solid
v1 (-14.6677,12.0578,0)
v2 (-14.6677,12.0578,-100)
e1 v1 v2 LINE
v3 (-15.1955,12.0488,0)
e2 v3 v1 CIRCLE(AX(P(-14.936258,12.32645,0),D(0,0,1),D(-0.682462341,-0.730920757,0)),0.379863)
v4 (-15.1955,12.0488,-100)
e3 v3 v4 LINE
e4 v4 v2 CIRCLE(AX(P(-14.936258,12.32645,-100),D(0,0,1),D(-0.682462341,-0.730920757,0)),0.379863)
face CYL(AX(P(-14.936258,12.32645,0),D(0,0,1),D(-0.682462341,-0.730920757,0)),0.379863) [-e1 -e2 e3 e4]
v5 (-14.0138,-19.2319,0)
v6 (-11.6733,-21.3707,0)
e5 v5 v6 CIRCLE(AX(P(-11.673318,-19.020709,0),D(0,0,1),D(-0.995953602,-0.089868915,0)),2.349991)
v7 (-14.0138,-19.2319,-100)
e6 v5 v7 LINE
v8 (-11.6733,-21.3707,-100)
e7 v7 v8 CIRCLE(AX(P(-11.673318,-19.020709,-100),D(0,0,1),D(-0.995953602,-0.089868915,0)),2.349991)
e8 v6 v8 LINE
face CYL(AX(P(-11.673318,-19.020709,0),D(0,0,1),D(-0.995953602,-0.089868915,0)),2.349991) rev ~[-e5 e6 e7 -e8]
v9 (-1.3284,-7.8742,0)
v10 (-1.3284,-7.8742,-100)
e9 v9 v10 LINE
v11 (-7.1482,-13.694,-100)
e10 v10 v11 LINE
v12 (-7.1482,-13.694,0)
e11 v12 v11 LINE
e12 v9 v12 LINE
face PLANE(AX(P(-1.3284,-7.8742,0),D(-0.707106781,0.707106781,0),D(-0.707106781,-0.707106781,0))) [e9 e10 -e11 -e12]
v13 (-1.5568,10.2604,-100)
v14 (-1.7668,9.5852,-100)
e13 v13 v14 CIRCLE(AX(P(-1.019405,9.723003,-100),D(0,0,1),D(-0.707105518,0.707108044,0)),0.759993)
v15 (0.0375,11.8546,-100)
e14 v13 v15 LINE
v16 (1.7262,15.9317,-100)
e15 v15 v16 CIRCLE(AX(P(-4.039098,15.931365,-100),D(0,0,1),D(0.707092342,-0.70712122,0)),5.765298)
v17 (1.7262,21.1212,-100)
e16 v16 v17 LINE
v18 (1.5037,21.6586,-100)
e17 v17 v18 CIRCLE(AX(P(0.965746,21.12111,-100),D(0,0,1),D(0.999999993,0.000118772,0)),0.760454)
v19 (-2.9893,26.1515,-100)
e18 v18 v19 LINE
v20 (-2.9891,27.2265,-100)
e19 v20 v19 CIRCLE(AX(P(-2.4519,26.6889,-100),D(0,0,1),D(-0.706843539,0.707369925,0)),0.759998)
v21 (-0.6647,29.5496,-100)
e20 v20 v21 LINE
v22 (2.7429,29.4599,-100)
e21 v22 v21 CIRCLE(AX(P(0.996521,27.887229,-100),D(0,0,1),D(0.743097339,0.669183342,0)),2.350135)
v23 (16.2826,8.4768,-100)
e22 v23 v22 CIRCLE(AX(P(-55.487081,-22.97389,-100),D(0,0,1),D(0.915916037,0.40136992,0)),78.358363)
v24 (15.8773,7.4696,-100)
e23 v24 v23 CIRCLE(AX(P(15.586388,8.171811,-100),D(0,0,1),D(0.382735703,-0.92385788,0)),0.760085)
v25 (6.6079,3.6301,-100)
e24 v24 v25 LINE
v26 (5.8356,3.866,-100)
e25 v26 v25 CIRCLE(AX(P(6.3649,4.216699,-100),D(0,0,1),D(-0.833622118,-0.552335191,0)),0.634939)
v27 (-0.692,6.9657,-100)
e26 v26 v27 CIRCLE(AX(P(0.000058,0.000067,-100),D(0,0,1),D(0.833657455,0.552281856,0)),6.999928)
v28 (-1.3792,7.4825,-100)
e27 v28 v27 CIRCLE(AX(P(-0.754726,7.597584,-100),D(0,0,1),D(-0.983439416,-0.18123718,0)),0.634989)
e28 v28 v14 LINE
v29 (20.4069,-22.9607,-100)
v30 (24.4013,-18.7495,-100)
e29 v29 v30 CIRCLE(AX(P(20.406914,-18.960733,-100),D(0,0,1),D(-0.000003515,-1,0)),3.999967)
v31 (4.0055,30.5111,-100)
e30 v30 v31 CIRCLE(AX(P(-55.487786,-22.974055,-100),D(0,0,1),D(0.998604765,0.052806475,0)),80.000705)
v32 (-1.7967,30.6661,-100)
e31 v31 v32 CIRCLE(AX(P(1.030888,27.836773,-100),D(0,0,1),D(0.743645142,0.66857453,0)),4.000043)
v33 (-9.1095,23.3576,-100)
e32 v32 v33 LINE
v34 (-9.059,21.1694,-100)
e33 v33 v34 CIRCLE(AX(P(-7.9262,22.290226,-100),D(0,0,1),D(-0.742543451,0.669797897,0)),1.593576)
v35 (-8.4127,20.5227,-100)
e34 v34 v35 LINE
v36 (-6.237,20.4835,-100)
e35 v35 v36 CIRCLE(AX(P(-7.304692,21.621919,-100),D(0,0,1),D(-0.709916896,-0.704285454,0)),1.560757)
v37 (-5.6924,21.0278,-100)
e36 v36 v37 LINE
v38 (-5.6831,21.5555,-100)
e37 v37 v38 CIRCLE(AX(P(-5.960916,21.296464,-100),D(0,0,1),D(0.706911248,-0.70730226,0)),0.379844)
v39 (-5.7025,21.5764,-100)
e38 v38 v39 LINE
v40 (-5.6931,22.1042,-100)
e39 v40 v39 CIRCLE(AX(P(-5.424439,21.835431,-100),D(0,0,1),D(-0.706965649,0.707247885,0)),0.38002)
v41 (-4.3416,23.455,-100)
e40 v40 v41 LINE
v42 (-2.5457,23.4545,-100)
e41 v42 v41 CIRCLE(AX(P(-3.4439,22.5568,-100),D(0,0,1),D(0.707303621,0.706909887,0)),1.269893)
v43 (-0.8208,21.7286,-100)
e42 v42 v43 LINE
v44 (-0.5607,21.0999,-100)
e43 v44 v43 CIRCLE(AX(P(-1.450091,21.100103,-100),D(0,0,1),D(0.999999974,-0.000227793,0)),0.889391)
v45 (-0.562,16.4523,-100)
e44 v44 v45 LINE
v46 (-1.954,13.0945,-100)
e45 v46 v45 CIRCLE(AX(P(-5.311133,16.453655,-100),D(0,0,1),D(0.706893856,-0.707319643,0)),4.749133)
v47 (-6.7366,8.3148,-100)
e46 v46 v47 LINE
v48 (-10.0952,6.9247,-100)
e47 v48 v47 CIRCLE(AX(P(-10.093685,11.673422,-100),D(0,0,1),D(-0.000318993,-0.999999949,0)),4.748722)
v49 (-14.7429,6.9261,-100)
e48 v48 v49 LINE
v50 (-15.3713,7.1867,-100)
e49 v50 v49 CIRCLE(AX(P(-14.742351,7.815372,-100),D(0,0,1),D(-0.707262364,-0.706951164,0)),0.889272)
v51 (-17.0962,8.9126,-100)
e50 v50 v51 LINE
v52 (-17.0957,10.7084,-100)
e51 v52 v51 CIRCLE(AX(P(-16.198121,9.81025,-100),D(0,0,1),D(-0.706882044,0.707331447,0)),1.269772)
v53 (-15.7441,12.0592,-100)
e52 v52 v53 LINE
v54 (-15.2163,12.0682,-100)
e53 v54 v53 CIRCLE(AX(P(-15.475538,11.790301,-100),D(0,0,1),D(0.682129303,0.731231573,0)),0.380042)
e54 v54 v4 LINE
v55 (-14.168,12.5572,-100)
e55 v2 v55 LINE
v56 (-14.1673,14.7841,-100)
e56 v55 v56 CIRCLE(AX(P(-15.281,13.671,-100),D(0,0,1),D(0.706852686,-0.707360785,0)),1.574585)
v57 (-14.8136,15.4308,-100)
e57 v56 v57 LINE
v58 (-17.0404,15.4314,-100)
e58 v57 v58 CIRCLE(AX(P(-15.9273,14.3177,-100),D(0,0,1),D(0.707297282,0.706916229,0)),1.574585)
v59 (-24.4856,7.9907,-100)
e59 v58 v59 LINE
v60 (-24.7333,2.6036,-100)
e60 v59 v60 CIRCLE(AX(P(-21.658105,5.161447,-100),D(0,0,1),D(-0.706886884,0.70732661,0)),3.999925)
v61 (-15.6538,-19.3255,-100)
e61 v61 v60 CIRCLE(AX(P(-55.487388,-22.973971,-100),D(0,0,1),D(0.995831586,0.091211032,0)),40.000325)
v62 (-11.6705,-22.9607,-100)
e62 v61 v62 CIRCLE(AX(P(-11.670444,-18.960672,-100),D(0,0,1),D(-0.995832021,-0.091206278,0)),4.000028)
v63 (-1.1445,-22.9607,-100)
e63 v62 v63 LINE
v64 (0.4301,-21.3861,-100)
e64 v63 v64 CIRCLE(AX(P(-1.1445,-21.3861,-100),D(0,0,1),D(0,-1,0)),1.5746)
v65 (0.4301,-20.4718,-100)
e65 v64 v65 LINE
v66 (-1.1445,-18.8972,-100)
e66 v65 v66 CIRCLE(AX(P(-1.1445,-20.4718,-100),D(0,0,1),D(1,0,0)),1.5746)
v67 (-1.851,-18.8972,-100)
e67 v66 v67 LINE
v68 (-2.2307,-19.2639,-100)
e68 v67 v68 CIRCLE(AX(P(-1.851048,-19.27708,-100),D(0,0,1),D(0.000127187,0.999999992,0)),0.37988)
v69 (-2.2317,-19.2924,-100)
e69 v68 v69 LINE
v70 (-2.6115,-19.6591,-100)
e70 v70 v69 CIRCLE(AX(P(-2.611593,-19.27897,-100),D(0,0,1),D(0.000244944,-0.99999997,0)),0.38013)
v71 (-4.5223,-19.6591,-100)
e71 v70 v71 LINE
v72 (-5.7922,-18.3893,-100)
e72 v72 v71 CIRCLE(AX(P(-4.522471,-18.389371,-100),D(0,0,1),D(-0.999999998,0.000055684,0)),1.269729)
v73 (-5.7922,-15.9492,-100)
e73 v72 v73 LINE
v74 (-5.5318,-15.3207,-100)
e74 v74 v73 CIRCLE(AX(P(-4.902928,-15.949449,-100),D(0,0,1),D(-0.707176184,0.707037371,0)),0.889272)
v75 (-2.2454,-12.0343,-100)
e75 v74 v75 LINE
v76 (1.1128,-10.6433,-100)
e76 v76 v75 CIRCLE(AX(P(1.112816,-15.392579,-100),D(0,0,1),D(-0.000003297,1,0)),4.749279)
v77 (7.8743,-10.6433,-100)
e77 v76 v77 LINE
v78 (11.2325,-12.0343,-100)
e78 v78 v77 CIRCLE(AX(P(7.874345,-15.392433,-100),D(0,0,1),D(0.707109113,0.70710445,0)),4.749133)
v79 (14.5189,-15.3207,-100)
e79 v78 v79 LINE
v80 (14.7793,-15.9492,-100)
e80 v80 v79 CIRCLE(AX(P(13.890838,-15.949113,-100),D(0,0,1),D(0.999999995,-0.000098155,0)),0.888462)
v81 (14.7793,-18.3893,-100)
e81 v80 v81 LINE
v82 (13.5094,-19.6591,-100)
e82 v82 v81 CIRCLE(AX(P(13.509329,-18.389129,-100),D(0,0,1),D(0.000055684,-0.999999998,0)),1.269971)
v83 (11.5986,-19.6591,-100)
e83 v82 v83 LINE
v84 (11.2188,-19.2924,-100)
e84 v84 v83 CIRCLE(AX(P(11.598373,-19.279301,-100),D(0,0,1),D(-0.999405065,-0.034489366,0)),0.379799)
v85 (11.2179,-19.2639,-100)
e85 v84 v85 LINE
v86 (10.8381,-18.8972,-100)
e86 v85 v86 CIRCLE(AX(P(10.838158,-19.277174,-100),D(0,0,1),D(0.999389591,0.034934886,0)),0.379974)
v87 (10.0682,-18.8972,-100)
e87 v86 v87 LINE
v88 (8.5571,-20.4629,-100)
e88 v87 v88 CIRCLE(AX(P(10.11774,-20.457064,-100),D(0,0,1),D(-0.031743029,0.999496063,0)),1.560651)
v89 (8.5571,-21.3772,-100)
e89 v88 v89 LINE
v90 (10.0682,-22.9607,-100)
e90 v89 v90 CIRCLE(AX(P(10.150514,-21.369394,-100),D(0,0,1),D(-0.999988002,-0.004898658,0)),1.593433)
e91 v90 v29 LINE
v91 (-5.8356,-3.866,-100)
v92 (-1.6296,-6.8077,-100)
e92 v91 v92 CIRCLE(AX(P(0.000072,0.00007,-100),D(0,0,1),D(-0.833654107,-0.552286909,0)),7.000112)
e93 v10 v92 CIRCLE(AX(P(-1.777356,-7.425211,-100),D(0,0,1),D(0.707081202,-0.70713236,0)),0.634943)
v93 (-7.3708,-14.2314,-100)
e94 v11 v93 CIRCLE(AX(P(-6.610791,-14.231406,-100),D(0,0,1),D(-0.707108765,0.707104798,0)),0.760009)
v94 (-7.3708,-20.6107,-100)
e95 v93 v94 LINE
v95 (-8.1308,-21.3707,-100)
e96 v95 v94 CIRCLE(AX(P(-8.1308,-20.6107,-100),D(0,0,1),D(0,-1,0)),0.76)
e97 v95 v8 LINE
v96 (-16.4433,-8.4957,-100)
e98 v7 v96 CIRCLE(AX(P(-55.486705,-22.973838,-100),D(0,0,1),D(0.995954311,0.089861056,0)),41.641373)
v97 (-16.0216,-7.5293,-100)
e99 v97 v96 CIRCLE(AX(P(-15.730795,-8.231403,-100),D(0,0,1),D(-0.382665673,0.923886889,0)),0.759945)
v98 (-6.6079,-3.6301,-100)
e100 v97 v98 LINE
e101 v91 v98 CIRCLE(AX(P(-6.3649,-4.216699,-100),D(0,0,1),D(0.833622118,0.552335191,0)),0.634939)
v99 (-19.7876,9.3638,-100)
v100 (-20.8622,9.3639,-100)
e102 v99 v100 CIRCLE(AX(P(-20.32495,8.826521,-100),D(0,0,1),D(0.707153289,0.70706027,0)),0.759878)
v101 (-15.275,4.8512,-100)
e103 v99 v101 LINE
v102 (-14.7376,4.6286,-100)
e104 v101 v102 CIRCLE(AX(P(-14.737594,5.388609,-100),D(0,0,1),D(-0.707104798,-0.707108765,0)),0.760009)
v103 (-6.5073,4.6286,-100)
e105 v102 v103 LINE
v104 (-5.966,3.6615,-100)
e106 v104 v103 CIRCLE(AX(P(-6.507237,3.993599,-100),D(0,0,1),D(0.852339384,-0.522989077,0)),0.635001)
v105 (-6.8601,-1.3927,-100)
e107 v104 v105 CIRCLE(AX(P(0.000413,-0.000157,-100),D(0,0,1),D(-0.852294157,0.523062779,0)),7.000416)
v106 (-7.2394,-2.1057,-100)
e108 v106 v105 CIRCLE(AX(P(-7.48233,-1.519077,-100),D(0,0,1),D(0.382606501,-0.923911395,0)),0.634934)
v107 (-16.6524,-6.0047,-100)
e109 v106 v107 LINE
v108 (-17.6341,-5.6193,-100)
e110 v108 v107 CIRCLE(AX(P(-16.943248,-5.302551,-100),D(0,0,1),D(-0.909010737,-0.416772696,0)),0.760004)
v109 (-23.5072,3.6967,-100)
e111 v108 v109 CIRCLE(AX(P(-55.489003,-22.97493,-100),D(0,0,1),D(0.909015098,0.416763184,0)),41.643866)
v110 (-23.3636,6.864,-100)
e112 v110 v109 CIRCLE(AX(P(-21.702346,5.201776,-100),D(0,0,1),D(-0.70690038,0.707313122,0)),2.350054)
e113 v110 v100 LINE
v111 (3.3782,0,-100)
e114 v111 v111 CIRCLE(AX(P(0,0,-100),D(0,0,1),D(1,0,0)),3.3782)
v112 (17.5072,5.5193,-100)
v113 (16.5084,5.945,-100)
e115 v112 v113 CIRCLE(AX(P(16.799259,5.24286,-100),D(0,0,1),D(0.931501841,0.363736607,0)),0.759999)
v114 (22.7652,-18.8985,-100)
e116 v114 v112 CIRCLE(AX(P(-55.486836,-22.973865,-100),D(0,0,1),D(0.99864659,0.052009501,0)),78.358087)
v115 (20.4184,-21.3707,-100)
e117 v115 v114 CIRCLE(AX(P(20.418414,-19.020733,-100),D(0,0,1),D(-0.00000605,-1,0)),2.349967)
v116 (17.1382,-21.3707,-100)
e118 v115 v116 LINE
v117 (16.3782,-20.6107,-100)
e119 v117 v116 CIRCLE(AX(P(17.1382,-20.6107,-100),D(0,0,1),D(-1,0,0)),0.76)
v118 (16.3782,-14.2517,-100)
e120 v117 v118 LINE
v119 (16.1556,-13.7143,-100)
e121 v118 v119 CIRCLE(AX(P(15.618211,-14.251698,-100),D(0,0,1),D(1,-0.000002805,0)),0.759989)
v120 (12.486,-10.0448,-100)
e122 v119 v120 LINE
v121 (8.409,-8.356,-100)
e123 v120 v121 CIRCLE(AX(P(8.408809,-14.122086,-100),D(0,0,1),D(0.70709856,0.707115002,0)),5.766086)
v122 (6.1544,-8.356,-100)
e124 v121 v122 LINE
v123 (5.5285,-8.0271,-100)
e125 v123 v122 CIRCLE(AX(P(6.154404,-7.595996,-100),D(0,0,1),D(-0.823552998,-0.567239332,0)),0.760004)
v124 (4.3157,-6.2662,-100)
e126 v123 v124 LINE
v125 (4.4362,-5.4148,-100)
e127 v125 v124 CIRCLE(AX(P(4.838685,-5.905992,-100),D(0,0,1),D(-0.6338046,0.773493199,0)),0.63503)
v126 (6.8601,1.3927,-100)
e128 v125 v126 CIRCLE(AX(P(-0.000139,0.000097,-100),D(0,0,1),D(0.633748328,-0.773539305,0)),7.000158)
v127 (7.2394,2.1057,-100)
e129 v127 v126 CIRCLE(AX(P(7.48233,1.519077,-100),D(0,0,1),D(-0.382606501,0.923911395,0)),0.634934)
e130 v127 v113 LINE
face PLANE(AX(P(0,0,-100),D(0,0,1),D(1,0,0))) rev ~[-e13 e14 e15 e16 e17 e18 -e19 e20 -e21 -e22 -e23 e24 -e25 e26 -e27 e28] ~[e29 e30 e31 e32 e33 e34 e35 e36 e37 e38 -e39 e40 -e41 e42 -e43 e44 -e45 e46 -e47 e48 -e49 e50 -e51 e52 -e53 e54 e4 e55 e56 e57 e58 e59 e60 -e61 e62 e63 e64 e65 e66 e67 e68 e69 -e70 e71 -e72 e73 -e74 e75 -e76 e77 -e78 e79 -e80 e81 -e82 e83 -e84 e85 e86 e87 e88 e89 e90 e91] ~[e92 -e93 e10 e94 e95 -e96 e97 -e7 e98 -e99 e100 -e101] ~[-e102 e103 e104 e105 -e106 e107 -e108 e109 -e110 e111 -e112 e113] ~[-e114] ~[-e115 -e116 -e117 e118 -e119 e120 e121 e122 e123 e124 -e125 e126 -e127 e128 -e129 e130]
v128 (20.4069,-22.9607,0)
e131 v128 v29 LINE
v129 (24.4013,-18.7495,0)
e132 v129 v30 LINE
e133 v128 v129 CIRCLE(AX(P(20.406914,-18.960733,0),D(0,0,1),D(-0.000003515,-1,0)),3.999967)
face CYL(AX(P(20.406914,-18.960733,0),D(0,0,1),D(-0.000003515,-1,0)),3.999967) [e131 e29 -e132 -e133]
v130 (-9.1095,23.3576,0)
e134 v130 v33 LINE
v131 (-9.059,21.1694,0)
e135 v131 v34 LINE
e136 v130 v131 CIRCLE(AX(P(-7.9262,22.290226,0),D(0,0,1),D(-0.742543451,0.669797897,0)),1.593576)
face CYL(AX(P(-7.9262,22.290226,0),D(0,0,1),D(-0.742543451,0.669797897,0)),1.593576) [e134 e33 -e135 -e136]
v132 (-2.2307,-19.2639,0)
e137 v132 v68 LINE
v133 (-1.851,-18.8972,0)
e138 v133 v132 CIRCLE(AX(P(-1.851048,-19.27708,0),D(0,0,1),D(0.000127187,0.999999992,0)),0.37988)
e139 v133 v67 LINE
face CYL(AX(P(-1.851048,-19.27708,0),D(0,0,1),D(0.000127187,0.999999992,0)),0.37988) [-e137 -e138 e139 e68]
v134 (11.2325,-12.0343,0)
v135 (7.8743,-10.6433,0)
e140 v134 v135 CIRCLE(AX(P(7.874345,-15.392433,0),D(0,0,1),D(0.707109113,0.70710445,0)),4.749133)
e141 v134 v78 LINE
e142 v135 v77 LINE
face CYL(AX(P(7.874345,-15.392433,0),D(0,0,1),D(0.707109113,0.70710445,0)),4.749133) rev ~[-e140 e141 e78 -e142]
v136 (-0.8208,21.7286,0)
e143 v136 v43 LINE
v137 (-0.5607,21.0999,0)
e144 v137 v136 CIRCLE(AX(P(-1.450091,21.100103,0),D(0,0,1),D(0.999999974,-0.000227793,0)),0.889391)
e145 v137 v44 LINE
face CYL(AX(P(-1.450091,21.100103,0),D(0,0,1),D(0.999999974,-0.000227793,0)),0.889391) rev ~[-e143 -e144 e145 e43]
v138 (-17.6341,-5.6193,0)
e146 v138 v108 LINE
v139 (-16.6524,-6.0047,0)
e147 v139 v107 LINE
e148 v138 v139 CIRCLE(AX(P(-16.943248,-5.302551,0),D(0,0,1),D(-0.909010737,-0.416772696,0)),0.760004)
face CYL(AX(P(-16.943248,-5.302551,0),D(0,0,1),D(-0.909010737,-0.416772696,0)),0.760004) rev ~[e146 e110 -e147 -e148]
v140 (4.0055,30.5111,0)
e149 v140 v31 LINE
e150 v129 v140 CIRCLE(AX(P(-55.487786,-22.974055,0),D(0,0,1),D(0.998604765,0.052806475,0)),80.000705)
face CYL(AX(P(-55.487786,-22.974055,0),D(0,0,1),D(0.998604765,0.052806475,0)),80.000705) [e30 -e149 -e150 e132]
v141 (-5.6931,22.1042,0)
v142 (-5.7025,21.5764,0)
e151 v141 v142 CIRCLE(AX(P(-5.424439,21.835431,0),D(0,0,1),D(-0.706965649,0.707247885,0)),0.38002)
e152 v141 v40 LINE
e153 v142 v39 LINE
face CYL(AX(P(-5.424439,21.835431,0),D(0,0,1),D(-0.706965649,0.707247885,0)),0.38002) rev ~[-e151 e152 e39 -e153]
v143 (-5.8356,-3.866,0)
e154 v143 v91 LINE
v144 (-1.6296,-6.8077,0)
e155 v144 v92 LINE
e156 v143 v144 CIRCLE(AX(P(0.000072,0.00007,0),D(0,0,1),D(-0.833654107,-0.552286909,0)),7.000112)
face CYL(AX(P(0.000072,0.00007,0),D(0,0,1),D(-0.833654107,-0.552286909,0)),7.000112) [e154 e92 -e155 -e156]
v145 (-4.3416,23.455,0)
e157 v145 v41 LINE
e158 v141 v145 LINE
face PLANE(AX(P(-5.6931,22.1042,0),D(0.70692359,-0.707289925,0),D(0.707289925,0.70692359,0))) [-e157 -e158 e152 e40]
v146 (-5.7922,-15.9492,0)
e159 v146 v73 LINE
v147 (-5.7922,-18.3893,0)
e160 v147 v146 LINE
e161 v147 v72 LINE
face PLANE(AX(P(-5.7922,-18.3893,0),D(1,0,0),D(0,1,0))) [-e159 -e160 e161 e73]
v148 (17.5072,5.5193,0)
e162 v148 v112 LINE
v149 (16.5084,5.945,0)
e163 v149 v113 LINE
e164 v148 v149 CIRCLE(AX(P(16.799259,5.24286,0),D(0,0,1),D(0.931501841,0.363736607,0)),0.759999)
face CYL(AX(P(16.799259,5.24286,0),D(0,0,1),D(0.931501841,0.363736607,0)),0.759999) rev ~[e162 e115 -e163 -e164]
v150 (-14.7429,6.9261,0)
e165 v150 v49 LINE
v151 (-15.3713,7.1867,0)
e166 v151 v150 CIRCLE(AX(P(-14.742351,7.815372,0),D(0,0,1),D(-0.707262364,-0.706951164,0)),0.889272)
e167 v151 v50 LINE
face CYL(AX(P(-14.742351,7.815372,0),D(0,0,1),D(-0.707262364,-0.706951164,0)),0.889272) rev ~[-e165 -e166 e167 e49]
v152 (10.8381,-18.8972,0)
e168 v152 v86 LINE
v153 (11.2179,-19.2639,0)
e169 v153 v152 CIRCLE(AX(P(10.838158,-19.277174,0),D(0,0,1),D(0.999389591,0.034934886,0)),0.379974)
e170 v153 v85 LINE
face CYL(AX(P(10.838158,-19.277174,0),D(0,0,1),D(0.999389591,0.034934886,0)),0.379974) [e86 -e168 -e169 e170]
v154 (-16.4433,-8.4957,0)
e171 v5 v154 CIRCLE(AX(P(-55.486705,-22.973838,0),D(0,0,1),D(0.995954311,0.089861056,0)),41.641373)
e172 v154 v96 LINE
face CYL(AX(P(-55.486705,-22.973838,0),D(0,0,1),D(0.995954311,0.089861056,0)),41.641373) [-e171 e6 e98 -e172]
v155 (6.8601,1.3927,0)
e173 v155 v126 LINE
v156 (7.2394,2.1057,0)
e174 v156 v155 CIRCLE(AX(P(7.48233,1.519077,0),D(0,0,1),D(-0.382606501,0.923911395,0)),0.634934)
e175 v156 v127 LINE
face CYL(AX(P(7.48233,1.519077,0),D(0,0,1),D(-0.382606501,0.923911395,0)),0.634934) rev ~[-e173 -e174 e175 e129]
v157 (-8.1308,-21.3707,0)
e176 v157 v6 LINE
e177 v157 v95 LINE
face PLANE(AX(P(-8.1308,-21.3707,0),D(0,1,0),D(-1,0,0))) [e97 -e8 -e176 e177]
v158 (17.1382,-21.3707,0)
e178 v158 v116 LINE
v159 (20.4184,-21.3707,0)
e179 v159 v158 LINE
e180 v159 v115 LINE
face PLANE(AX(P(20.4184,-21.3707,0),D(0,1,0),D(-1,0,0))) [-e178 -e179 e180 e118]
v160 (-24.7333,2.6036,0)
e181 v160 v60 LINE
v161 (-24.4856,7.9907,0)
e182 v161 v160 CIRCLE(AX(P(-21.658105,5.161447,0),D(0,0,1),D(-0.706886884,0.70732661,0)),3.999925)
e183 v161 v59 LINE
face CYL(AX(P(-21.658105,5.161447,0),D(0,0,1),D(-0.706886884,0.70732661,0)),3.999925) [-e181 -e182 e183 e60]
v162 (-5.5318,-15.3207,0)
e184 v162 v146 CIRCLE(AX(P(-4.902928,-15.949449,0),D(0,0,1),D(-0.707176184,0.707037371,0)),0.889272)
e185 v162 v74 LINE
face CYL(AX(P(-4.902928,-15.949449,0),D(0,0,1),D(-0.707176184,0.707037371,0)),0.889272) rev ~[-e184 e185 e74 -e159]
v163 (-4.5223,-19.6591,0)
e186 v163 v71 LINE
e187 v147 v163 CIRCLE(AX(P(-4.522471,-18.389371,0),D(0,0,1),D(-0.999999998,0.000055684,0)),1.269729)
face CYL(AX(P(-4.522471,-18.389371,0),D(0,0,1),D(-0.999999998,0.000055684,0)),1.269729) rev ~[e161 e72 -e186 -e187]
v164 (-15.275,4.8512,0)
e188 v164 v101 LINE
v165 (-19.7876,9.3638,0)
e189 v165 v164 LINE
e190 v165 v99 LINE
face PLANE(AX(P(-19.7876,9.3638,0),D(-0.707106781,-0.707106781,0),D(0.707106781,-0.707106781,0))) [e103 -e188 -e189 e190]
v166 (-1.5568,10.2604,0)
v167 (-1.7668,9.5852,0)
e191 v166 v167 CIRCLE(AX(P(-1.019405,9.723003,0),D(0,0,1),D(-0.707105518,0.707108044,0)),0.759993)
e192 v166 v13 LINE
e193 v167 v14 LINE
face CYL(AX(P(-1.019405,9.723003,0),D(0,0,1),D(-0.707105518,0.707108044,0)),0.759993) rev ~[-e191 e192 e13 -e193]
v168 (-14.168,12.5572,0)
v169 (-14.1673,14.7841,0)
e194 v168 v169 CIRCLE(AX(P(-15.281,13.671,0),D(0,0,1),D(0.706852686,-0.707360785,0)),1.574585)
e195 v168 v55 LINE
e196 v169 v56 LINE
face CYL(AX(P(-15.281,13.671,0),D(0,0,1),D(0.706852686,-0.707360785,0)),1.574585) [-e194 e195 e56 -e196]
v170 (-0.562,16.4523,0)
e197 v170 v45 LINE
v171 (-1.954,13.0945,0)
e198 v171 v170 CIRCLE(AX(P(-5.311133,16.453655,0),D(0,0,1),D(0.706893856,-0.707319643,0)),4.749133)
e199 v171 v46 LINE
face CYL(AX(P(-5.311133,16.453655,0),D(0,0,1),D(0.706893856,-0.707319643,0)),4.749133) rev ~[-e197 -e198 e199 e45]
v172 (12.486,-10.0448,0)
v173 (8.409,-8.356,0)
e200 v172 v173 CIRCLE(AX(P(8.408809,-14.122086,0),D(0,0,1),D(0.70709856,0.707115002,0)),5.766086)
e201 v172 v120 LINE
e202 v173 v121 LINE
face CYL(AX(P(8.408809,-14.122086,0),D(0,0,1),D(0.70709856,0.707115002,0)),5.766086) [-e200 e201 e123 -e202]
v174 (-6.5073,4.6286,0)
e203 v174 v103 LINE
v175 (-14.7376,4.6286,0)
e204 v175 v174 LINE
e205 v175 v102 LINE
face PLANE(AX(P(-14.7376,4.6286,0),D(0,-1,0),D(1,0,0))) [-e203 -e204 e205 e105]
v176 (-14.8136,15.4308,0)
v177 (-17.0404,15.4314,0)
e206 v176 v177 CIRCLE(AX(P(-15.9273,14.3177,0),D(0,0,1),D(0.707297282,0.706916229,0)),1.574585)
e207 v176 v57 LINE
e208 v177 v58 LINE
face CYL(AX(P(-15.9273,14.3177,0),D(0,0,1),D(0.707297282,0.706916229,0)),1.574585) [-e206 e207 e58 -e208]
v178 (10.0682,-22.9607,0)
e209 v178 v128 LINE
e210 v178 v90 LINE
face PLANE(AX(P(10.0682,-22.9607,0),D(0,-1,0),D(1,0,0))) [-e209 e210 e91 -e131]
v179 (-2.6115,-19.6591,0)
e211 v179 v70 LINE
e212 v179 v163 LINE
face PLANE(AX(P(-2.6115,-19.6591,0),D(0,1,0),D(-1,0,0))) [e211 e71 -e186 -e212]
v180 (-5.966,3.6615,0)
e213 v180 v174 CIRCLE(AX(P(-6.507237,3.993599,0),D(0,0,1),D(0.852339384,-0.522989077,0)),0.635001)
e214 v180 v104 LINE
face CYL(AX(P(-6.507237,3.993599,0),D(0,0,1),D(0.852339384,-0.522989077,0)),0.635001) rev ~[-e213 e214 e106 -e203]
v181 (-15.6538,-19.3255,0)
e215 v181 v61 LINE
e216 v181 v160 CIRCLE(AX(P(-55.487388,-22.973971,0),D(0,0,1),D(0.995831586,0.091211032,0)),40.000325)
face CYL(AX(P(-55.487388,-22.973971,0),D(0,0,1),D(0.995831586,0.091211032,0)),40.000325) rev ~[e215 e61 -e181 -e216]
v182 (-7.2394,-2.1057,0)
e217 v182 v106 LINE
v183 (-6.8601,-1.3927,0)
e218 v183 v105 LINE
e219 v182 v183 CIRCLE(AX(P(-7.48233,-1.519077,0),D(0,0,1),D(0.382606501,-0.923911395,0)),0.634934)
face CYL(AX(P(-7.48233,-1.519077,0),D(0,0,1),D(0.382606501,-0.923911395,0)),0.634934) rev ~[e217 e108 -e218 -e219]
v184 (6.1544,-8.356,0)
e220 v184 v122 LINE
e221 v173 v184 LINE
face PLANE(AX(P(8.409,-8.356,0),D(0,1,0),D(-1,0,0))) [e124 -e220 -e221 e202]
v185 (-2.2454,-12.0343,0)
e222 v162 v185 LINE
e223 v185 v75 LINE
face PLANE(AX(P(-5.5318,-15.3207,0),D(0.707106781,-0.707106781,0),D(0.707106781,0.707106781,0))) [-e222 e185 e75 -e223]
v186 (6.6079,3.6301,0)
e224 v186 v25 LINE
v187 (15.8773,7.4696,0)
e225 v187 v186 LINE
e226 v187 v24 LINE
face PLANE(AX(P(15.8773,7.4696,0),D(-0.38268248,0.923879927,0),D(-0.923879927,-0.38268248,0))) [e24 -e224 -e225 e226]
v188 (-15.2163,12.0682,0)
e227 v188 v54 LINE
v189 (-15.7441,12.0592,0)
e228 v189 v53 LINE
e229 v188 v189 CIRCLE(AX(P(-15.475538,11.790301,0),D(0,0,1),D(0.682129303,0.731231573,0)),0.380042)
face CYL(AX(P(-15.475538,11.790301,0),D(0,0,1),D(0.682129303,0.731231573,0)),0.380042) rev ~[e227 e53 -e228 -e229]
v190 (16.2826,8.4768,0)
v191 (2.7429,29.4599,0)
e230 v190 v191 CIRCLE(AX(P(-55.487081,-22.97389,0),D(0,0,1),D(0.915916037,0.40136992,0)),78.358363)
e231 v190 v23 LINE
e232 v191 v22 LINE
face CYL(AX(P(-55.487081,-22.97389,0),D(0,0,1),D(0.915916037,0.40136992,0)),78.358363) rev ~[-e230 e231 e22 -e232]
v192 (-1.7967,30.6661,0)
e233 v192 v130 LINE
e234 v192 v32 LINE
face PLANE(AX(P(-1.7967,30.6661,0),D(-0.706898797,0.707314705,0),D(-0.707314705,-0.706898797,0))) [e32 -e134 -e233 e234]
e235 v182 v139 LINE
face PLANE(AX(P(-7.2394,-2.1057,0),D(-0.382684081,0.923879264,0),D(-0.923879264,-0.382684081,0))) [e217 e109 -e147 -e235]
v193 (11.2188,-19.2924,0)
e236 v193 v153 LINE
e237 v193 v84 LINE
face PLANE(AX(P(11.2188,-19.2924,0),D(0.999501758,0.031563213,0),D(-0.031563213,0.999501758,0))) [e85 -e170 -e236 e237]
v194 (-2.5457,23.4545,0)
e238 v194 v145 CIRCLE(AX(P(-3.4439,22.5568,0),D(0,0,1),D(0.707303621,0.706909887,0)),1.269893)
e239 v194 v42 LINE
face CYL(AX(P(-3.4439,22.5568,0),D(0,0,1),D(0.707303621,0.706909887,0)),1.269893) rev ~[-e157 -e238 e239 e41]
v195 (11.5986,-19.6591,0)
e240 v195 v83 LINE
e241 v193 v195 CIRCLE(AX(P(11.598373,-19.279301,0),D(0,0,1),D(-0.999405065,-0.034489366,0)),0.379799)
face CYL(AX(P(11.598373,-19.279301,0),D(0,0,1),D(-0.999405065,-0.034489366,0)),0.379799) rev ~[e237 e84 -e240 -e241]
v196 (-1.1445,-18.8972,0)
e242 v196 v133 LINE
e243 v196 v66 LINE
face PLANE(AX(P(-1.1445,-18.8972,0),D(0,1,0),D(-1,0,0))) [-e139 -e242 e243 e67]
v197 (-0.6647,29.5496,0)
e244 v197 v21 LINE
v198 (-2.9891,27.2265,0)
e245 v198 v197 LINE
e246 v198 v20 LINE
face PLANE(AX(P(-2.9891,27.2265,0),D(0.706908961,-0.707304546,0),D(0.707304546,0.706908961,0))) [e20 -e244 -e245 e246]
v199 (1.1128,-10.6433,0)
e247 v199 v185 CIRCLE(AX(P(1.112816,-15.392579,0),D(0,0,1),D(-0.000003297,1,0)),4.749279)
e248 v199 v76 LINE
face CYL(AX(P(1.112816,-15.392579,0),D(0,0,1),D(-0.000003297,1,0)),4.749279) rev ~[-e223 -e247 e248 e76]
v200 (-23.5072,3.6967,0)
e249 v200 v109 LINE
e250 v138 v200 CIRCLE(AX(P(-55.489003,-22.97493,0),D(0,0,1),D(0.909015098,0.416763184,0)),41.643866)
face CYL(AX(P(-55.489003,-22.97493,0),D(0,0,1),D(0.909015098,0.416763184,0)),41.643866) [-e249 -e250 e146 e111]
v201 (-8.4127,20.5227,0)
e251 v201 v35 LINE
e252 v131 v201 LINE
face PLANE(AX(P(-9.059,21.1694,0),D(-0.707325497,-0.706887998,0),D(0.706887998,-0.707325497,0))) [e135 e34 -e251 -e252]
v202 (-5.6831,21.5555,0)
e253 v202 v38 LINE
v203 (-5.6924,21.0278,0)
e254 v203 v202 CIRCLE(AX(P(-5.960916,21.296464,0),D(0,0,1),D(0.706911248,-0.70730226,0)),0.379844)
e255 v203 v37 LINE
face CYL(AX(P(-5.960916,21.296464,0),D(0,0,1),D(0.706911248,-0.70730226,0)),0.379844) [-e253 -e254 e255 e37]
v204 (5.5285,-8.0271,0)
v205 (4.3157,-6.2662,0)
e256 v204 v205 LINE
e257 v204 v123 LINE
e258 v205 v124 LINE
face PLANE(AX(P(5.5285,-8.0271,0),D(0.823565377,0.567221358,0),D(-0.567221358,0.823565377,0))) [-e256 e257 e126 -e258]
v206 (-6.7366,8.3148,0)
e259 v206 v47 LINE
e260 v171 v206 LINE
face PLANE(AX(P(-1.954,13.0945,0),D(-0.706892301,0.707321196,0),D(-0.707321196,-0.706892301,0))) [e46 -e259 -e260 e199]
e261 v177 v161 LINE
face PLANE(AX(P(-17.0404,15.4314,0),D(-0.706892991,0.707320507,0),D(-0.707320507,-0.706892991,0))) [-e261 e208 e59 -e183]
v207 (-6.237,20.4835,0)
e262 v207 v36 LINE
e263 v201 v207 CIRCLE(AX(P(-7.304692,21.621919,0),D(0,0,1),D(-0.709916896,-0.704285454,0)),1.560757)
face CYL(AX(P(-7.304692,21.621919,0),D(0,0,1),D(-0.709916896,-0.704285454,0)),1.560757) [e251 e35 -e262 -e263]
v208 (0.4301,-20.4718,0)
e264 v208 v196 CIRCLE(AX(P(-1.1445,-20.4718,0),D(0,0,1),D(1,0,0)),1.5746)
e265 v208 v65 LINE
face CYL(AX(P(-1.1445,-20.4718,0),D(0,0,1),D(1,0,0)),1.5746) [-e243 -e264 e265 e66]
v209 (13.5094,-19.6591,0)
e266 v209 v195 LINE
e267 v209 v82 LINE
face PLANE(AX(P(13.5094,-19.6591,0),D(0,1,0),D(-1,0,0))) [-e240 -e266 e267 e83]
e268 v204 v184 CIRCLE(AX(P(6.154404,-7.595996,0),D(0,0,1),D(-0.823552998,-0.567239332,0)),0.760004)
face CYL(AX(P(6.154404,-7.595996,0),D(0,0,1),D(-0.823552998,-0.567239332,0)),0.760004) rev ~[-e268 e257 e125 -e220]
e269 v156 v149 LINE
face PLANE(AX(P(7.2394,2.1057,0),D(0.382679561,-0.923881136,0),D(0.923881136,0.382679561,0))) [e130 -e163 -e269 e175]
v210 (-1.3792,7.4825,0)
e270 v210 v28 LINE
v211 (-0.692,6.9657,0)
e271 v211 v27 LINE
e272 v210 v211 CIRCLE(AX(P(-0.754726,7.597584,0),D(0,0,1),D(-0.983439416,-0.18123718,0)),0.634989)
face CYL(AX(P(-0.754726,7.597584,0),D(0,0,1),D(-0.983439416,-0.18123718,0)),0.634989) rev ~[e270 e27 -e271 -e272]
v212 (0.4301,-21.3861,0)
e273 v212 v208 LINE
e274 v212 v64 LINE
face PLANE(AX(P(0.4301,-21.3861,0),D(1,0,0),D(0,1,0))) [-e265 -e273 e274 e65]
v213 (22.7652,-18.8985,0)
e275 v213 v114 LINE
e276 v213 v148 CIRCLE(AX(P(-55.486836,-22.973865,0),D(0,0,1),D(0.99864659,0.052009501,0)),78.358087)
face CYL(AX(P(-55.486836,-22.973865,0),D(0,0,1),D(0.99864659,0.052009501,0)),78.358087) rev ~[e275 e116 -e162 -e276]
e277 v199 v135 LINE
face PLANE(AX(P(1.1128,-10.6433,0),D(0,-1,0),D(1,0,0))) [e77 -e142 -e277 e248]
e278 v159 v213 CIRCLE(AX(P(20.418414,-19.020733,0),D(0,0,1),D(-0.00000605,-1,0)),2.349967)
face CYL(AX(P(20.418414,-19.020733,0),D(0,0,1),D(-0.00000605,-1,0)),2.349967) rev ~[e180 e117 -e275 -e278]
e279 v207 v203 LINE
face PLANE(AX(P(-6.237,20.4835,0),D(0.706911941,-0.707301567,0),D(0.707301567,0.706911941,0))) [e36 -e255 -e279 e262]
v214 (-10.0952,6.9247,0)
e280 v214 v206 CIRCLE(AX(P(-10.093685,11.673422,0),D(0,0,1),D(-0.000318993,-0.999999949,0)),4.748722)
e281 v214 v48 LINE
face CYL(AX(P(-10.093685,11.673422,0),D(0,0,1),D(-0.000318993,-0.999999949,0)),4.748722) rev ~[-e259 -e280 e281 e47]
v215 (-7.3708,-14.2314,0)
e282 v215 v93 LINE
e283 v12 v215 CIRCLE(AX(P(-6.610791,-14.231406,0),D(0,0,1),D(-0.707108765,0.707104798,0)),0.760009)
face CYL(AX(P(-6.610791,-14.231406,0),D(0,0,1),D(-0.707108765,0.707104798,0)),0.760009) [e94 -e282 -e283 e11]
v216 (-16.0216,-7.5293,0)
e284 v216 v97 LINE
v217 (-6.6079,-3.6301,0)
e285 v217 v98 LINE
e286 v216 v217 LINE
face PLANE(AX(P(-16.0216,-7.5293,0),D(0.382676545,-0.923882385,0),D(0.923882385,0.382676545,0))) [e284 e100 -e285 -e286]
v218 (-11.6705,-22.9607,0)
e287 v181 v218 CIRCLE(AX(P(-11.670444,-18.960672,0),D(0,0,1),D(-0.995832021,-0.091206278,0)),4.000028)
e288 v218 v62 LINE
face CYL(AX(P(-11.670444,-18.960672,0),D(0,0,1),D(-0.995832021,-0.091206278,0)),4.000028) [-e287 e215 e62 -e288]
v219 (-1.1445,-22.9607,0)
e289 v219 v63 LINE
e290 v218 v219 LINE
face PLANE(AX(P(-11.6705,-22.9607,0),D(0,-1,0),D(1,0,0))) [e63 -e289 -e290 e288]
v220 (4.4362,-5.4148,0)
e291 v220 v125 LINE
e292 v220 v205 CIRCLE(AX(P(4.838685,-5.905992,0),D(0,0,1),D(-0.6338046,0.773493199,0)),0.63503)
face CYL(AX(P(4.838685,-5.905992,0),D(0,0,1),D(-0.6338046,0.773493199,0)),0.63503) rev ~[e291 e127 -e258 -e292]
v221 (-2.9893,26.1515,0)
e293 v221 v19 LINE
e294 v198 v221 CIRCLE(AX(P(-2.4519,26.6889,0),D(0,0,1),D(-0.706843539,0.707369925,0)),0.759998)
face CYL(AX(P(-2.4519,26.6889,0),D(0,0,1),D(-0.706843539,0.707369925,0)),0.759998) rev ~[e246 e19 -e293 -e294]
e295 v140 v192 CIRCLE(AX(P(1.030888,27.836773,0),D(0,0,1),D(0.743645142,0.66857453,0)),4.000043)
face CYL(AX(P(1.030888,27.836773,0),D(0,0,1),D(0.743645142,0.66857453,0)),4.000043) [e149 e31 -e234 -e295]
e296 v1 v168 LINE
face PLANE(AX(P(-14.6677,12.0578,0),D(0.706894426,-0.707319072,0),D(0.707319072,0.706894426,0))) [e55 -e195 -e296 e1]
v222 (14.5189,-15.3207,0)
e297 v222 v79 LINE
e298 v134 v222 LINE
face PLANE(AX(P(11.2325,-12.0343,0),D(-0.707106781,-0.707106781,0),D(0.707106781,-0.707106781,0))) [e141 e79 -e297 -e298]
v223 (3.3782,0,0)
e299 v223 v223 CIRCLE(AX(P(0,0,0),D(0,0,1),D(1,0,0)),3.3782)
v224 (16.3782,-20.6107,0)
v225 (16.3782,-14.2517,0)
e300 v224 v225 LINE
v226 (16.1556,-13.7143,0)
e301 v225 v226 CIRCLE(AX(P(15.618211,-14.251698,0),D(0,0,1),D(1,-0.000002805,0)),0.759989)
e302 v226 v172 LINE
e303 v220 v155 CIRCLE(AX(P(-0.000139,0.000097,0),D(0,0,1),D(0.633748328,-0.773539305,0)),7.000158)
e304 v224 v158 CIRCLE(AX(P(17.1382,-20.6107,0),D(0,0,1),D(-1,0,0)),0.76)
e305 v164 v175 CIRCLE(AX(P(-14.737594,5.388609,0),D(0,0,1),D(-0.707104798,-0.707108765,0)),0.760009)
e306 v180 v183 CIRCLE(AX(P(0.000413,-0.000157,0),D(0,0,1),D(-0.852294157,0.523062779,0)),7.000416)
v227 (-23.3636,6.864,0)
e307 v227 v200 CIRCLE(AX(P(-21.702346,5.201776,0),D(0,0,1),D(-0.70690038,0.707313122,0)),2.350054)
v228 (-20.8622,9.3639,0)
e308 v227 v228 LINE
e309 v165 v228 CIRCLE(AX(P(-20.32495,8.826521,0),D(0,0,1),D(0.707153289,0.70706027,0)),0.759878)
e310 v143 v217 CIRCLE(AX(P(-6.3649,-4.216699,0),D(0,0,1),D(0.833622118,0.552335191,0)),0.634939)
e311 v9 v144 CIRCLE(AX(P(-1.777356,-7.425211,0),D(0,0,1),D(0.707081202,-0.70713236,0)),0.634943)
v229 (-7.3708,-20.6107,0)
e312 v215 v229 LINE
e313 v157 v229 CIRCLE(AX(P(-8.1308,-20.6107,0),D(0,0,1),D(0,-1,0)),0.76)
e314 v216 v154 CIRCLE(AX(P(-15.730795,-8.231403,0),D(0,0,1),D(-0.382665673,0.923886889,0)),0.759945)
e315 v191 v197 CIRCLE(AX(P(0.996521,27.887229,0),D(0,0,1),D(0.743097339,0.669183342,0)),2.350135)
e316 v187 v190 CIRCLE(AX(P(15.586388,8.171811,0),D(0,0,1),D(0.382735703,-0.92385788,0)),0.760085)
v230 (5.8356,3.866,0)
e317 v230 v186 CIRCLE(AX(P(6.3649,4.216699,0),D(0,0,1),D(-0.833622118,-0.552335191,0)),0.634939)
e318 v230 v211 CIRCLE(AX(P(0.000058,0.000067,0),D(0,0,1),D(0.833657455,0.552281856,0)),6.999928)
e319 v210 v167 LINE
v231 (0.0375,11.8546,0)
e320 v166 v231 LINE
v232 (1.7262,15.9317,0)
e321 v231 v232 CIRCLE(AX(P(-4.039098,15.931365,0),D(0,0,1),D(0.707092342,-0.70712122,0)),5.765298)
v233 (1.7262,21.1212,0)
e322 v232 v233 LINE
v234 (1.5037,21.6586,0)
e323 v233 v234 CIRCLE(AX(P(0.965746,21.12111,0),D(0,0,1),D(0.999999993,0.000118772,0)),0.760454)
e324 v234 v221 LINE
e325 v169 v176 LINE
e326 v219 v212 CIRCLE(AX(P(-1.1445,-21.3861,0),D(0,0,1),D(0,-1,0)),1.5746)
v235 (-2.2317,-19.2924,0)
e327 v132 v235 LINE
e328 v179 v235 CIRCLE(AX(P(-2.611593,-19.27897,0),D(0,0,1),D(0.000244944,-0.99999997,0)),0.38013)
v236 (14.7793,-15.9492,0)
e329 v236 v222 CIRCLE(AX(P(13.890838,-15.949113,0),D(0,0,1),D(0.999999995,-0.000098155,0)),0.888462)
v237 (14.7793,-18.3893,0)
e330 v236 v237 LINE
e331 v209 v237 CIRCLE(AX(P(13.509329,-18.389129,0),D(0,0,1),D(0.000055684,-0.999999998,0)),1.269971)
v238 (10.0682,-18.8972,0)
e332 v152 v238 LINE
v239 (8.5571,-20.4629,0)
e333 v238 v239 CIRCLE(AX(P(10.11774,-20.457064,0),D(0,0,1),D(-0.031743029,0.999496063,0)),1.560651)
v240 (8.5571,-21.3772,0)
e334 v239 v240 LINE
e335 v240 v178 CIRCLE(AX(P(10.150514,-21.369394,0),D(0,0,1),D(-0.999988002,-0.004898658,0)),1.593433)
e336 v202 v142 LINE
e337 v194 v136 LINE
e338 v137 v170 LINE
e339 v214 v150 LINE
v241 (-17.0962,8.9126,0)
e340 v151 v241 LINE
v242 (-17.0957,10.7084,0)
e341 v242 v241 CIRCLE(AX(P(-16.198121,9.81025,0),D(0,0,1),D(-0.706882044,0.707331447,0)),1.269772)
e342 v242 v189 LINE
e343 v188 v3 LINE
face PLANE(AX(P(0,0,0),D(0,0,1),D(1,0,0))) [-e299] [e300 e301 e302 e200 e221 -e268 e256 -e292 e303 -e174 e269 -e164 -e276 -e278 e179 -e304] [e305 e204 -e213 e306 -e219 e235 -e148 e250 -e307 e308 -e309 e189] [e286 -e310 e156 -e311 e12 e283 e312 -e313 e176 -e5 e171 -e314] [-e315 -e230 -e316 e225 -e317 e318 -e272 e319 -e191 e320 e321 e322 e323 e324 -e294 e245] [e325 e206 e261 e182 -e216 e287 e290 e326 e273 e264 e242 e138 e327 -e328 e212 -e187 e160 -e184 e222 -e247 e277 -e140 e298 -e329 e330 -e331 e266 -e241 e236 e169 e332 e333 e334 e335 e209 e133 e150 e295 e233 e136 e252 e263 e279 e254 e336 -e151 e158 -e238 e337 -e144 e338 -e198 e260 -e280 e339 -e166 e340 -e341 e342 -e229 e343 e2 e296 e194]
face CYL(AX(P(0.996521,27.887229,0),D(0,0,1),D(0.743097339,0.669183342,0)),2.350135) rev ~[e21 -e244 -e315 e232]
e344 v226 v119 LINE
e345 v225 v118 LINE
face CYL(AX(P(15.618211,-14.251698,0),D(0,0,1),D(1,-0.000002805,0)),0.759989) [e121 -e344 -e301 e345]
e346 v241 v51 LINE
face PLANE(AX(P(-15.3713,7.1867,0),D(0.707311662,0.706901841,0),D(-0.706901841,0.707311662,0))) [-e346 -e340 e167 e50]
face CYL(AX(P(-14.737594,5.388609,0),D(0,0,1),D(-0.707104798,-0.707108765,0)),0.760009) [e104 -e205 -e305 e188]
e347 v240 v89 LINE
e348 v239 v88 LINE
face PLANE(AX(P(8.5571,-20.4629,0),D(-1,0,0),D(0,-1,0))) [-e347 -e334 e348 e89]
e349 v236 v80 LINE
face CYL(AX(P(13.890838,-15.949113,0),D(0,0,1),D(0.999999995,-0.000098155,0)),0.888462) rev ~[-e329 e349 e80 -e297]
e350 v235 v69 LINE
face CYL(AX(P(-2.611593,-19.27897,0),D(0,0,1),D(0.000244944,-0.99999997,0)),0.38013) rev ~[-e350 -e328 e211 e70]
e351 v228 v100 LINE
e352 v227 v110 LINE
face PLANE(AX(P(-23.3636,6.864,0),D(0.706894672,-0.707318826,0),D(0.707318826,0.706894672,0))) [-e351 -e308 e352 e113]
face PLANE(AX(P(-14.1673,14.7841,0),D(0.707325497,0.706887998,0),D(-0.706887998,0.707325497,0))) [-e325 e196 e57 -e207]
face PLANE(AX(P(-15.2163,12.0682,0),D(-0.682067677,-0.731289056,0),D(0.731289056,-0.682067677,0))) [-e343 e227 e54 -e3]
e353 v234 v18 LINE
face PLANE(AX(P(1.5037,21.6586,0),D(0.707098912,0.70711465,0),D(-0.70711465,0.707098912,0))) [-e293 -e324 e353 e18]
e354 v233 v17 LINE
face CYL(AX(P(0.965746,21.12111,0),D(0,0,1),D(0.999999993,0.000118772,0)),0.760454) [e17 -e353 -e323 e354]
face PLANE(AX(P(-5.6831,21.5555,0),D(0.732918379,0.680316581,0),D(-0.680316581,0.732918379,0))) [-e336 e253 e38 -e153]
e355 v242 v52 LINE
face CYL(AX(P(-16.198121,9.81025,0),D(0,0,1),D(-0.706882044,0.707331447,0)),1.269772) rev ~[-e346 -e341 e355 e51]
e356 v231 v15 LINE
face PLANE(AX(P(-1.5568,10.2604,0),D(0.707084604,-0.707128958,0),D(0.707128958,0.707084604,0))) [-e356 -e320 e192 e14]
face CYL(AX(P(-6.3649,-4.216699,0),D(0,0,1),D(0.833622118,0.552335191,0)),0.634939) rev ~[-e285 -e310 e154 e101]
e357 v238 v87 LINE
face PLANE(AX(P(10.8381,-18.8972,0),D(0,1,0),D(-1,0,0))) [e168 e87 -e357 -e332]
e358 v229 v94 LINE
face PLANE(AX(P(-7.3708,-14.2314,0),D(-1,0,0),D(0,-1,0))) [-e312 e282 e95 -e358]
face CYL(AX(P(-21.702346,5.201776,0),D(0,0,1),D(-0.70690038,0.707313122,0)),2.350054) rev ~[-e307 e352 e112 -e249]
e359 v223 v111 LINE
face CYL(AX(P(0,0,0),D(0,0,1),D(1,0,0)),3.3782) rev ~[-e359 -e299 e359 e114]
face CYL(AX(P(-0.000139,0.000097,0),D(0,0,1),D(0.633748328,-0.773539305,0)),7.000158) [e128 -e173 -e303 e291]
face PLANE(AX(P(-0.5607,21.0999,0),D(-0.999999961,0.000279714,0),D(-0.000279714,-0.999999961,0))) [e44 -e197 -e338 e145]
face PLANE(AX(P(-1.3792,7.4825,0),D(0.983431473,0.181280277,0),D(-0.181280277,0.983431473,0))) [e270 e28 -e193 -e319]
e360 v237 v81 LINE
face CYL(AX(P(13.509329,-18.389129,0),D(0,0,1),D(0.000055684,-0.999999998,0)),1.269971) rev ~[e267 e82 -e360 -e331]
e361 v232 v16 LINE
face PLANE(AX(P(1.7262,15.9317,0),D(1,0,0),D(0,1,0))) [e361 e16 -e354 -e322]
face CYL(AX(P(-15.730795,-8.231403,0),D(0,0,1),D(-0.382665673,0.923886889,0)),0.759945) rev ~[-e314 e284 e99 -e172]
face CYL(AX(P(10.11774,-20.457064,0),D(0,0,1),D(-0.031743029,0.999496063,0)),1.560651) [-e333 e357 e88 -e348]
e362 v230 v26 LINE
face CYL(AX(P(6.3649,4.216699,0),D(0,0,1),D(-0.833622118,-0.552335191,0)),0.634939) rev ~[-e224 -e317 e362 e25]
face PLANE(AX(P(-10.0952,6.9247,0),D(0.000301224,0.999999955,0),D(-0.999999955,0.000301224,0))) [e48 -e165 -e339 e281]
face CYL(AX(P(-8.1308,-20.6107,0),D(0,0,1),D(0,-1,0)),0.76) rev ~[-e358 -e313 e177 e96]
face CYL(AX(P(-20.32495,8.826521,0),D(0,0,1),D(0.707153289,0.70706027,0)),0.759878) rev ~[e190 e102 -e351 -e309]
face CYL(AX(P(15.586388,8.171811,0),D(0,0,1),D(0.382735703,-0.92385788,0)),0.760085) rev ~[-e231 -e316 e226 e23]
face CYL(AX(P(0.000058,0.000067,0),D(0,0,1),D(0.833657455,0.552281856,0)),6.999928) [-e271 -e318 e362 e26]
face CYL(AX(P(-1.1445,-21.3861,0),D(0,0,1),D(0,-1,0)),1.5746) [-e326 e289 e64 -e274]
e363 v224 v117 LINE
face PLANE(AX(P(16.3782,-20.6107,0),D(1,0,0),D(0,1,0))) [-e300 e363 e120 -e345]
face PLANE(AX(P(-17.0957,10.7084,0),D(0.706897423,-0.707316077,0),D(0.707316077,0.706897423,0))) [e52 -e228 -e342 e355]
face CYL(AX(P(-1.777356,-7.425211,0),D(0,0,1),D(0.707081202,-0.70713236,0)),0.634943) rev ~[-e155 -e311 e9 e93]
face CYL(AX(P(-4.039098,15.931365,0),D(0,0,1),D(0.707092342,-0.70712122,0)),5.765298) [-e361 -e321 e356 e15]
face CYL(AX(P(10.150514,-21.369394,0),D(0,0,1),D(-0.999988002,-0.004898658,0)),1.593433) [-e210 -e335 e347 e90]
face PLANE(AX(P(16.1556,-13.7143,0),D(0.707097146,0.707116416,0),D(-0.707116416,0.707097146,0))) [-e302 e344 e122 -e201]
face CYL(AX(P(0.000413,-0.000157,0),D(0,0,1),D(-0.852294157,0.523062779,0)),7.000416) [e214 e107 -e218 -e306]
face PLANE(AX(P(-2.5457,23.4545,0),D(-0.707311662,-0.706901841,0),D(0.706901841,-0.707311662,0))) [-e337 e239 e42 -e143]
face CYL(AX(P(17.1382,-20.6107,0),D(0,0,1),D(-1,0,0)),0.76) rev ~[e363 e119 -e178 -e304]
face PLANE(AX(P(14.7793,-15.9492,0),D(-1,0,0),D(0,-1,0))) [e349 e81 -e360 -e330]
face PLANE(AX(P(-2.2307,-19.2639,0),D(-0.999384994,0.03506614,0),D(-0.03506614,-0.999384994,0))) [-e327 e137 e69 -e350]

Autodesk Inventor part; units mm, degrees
ref_plane "YZ Plane" through (0, 0, 0) normal (1, 0, 0) x (0, 1, 0)
ref_plane "XZ Plane" through (0, 0, 0) normal (0, 1, 0) x (-1, 0, 0)
ref_plane "XY Plane" through (0, 0, 0) normal (0, 0, 1) x (1, 0, 0)
sketch "Sketch1" plane through (0, 0, 0) normal (0, 0, 1) x (1, 0, 0)
  line L0 (-14.1673, 14.7841) -> (-14.8136, 15.4308)
  arc A0 (-14.8136, 15.4308) -> (-17.0404, 15.4314) centre (-15.9273, 14.3177) ccw
  arc A1 (-14.168, 12.5572) -> (-14.1673, 14.7841) centre (-15.281, 13.671) ccw
  line L1 (-17.0404, 15.4314) -> (-24.4856, 7.9907)
  line L2 (-14.6677, 12.0578) -> (-14.168, 12.5572)
  arc A2 (-24.4856, 7.9907) -> (-24.7333, 2.6036) centre (-21.658, 5.1614) ccw
  arc A3 (-15.1955, 12.0488) -> (-14.6677, 12.0578) centre (-14.9362, 12.3266) ccw
  arc A4 (-15.6538, -19.3255) -> (-24.7333, 2.6036) centre (-55.4871, -22.9739) ccw
  line L3 (-15.2163, 12.0682) -> (-15.1955, 12.0488)
  arc A5 (-15.6538, -19.3255) -> (-11.6705, -22.9607) centre (-11.6705, -18.9607) ccw
  arc A6 (-15.2163, 12.0682) -> (-15.7441, 12.0592) centre (-15.4755, 11.7904) ccw
  line L4 (-11.6705, -22.9607) -> (-1.1445, -22.9607)
  line L5 (-17.0957, 10.7084) -> (-15.7441, 12.0592)
  arc A7 (-1.1445, -22.9607) -> (0.4301, -21.3861) centre (-1.1445, -21.3861) ccw
  arc A8 (-17.0957, 10.7084) -> (-17.0962, 8.9126) centre (-16.198, 9.8102) ccw
  line L6 (0.4301, -21.3861) -> (0.4301, -20.4718)
  line L7 (-15.3713, 7.1867) -> (-17.0962, 8.9126)
  arc A9 (0.4301, -20.4718) -> (-1.1445, -18.8972) centre (-1.1445, -20.4718) ccw
  arc A10 (-15.3713, 7.1867) -> (-14.7429, 6.9261) centre (-14.7426, 7.815) ccw
  line L8 (-1.1445, -18.8972) -> (-1.851, -18.8972)
  line L9 (-10.0952, 6.9247) -> (-14.7429, 6.9261)
  arc A11 (-1.851, -18.8972) -> (-2.2307, -19.2639) centre (-1.851, -19.2772) ccw
  arc A12 (-10.0952, 6.9247) -> (-6.7366, 8.3148) centre (-10.0938, 11.674) ccw
  line L10 (-2.2307, -19.2639) -> (-2.2317, -19.2924)
  line L11 (-1.954, 13.0945) -> (-6.7366, 8.3148)
  arc A13 (-2.6115, -19.6591) -> (-2.2317, -19.2924) centre (-2.6115, -19.2792) ccw
  arc A14 (-1.954, 13.0945) -> (-0.562, 16.4523) centre (-5.3112, 16.4537) ccw
  line L12 (-2.6115, -19.6591) -> (-4.5223, -19.6591)
  line L13 (-0.5607, 21.0999) -> (-0.562, 16.4523)
  arc A15 (-5.7922, -18.3893) -> (-4.5223, -19.6591) centre (-4.5223, -18.3893) ccw
  arc A16 (-0.5607, 21.0999) -> (-0.8208, 21.7286) centre (-1.4496, 21.1002) ccw
  line L14 (-5.7922, -18.3893) -> (-5.7922, -15.9492)
  line L15 (-2.5457, 23.4545) -> (-0.8208, 21.7286)
  arc A17 (-5.5318, -15.3207) -> (-5.7922, -15.9492) centre (-4.9033, -15.9492) ccw
  arc A18 (-2.5457, 23.4545) -> (-4.3416, 23.455) centre (-3.4439, 22.5568) ccw
  line L16 (-5.5318, -15.3207) -> (-2.2454, -12.0343)
  line L17 (-5.6931, 22.1042) -> (-4.3416, 23.455)
  arc A19 (1.1128, -10.6433) -> (-2.2454, -12.0343) centre (1.1128, -15.3925) ccw
  arc A20 (-5.6931, 22.1042) -> (-5.7025, 21.5764) centre (-5.4246, 21.8355) ccw
  line L18 (1.1128, -10.6433) -> (7.8743, -10.6433)
  line L19 (-5.6831, 21.5555) -> (-5.7025, 21.5764)
  arc A21 (11.2325, -12.0343) -> (7.8743, -10.6433) centre (7.8743, -15.3925) ccw
  arc A22 (-5.6924, 21.0278) -> (-5.6831, 21.5555) centre (-5.961, 21.2965) ccw
  line L20 (11.2325, -12.0343) -> (14.5189, -15.3207)
  line L21 (-6.237, 20.4835) -> (-5.6924, 21.0278)
  arc A23 (14.7793, -15.9492) -> (14.5189, -15.3207) centre (13.8904, -15.9492) ccw
  arc A24 (-8.4127, 20.5227) -> (-6.237, 20.4835) centre (-7.3047, 21.6219) ccw
  line L22 (14.7793, -15.9492) -> (14.7793, -18.3893)
  line L23 (-9.059, 21.1694) -> (-8.4127, 20.5227)
  arc A25 (13.5094, -19.6591) -> (14.7793, -18.3893) centre (13.5094, -18.3893) ccw
  arc A26 (-9.1095, 23.3576) -> (-9.059, 21.1694) centre (-7.9264, 22.2903) ccw
  line L24 (13.5094, -19.6591) -> (11.5986, -19.6591)
  line L25 (-1.7967, 30.6661) -> (-9.1095, 23.3576)
  arc A27 (11.2188, -19.2924) -> (11.5986, -19.6591) centre (11.5986, -19.2792) ccw
  arc A28 (4.0055, 30.5111) -> (-1.7967, 30.6661) centre (1.0309, 27.8368) ccw
  line L26 (11.2188, -19.2924) -> (11.2179, -19.2639)
  arc A29 (24.4013, -18.7495) -> (4.0055, 30.5111) centre (-55.4871, -22.9739) ccw
  arc A30 (11.2179, -19.2639) -> (10.8381, -18.8972) centre (10.8381, -19.2772) ccw
  arc A31 (20.4069, -22.9607) -> (24.4013, -18.7495) centre (20.4069, -18.9607) ccw
  line L27 (10.8381, -18.8972) -> (10.0682, -18.8972)
  line L28 (10.0682, -22.9607) -> (20.4069, -22.9607)
  arc A32 (10.0682, -18.8972) -> (8.5571, -20.4629) centre (10.1178, -20.4572) ccw
  arc A33 (8.5571, -21.3772) -> (10.0682, -22.9607) centre (10.1505, -21.3694) ccw
  line L29 (8.5571, -20.4629) -> (8.5571, -21.3772)
  line L30 (1.5037, 21.6586) -> (-2.9893, 26.1515)
  arc A34 (-2.9891, 27.2265) -> (-2.9893, 26.1515) centre (-2.4519, 26.6889) ccw
  arc A35 (1.7262, 21.1212) -> (1.5037, 21.6586) centre (0.9662, 21.1212) ccw
  line L31 (-2.9891, 27.2265) -> (-0.6647, 29.5496)
  line L32 (1.7262, 15.9317) -> (1.7262, 21.1212)
  arc A36 (2.7429, 29.4599) -> (-0.6647, 29.5496) centre (0.9966, 27.8874) ccw
  arc A37 (0.0375, 11.8546) -> (1.7262, 15.9317) centre (-4.0396, 15.9317) ccw
  arc A38 (16.2826, 8.4768) -> (2.7429, 29.4599) centre (-55.4871, -22.9739) ccw
  line L33 (-1.5568, 10.2604) -> (0.0375, 11.8546)
  arc A39 (15.8773, 7.4696) -> (16.2826, 8.4768) centre (15.5865, 8.1717) ccw
  arc A40 (-1.5568, 10.2604) -> (-1.7668, 9.5852) centre (-1.0194, 9.723) ccw
  line L34 (15.8773, 7.4696) -> (6.6079, 3.6301)
  line L35 (-1.3792, 7.4825) -> (-1.7668, 9.5852)
  arc A41 (5.8356, 3.866) -> (6.6079, 3.6301) centre (6.3649, 4.2167) ccw
  arc A42 (-1.3792, 7.4825) -> (-0.692, 6.9657) centre (-0.7547, 7.5976) ccw
  arc A43 (5.8356, 3.866) -> (-0.692, 6.9657) centre (0, 0) ccw
  arc A44 (22.7652, -18.8985) -> (17.5072, 5.5193) centre (-55.4871, -22.9739) ccw
  arc A45 (20.4184, -21.3707) -> (22.7652, -18.8985) centre (20.4184, -19.0207) ccw
  arc A46 (17.5072, 5.5193) -> (16.5084, 5.945) centre (16.7993, 5.2429) ccw
  line L36 (20.4184, -21.3707) -> (17.1382, -21.3707)
  line L37 (7.2394, 2.1057) -> (16.5084, 5.945)
  arc A47 (16.3782, -20.6107) -> (17.1382, -21.3707) centre (17.1382, -20.6107) ccw
  arc A48 (7.2394, 2.1057) -> (6.8601, 1.3927) centre (7.4824, 1.519) ccw
  line L38 (16.3782, -20.6107) -> (16.3782, -14.2517)
  arc A49 (4.4362, -5.4148) -> (6.8601, 1.3927) centre (0, 0) ccw
  arc A50 (16.3782, -14.2517) -> (16.1556, -13.7143) centre (15.6182, -14.2517) ccw
  arc A51 (4.4362, -5.4148) -> (4.3157, -6.2662) centre (4.8387, -5.906) ccw
  line L39 (16.1556, -13.7143) -> (12.486, -10.0448)
  line L40 (5.5285, -8.0271) -> (4.3157, -6.2662)
  arc A52 (12.486, -10.0448) -> (8.409, -8.356) centre (8.409, -14.1218) ccw
  arc A53 (5.5285, -8.0271) -> (6.1544, -8.356) centre (6.1544, -7.596) ccw
  line L41 (8.409, -8.356) -> (6.1544, -8.356)
  circle A54 centre (0, 0) radius 3.3782
  line L42 (-7.3708, -14.2314) -> (-7.3708, -20.6107)
  arc A55 (-8.1308, -21.3707) -> (-7.3708, -20.6107) centre (-8.1308, -20.6107) ccw
  arc A56 (-7.1482, -13.694) -> (-7.3708, -14.2314) centre (-6.6108, -14.2314) ccw
  line L43 (-8.1308, -21.3707) -> (-11.6733, -21.3707)
  line L44 (-1.3284, -7.8742) -> (-7.1482, -13.694)
  arc A57 (-14.0138, -19.2319) -> (-11.6733, -21.3707) centre (-11.6733, -19.0207) ccw
  arc A58 (-1.3284, -7.8742) -> (-1.6296, -6.8077) centre (-1.7774, -7.4252) ccw
  arc A59 (-14.0138, -19.2319) -> (-16.4433, -8.4957) centre (-55.4871, -22.9739) ccw
  arc A60 (-5.8356, -3.866) -> (-1.6296, -6.8077) centre (0, 0) ccw
  arc A61 (-16.0216, -7.5293) -> (-16.4433, -8.4957) centre (-15.7307, -8.2315) ccw
  arc A62 (-5.8356, -3.866) -> (-6.6079, -3.6301) centre (-6.3649, -4.2167) ccw
  line L45 (-16.0216, -7.5293) -> (-6.6079, -3.6301)
  line L46 (-23.3636, 6.864) -> (-20.8622, 9.3639)
  arc A63 (-19.7876, 9.3638) -> (-20.8622, 9.3639) centre (-20.325, 8.8264) ccw
  arc A64 (-23.3636, 6.864) -> (-23.5072, 3.6967) centre (-21.7024, 5.2018) ccw
  line L47 (-19.7876, 9.3638) -> (-15.275, 4.8512)
  arc A65 (-17.6341, -5.6193) -> (-23.5072, 3.6967) centre (-55.4871, -22.9739) ccw
  arc A66 (-15.275, 4.8512) -> (-14.7376, 4.6286) centre (-14.7376, 5.3886) ccw
  arc A67 (-17.6341, -5.6193) -> (-16.6524, -6.0047) centre (-16.9432, -5.3025) ccw
  line L48 (-14.7376, 4.6286) -> (-6.5073, 4.6286)
  line L49 (-7.2394, -2.1057) -> (-16.6524, -6.0047)
  arc A68 (-5.966, 3.6615) -> (-6.5073, 4.6286) centre (-6.5073, 3.9936) ccw
  arc A69 (-5.966, 3.6615) -> (-6.8601, -1.3927) centre (0, 0) ccw
  arc A70 (-7.2394, -2.1057) -> (-6.8601, -1.3927) centre (-7.4824, -1.519) ccw
extrude "Extrusion1" add sketch "Sketch1" against normal blind 100
properties part number "40-4094"
